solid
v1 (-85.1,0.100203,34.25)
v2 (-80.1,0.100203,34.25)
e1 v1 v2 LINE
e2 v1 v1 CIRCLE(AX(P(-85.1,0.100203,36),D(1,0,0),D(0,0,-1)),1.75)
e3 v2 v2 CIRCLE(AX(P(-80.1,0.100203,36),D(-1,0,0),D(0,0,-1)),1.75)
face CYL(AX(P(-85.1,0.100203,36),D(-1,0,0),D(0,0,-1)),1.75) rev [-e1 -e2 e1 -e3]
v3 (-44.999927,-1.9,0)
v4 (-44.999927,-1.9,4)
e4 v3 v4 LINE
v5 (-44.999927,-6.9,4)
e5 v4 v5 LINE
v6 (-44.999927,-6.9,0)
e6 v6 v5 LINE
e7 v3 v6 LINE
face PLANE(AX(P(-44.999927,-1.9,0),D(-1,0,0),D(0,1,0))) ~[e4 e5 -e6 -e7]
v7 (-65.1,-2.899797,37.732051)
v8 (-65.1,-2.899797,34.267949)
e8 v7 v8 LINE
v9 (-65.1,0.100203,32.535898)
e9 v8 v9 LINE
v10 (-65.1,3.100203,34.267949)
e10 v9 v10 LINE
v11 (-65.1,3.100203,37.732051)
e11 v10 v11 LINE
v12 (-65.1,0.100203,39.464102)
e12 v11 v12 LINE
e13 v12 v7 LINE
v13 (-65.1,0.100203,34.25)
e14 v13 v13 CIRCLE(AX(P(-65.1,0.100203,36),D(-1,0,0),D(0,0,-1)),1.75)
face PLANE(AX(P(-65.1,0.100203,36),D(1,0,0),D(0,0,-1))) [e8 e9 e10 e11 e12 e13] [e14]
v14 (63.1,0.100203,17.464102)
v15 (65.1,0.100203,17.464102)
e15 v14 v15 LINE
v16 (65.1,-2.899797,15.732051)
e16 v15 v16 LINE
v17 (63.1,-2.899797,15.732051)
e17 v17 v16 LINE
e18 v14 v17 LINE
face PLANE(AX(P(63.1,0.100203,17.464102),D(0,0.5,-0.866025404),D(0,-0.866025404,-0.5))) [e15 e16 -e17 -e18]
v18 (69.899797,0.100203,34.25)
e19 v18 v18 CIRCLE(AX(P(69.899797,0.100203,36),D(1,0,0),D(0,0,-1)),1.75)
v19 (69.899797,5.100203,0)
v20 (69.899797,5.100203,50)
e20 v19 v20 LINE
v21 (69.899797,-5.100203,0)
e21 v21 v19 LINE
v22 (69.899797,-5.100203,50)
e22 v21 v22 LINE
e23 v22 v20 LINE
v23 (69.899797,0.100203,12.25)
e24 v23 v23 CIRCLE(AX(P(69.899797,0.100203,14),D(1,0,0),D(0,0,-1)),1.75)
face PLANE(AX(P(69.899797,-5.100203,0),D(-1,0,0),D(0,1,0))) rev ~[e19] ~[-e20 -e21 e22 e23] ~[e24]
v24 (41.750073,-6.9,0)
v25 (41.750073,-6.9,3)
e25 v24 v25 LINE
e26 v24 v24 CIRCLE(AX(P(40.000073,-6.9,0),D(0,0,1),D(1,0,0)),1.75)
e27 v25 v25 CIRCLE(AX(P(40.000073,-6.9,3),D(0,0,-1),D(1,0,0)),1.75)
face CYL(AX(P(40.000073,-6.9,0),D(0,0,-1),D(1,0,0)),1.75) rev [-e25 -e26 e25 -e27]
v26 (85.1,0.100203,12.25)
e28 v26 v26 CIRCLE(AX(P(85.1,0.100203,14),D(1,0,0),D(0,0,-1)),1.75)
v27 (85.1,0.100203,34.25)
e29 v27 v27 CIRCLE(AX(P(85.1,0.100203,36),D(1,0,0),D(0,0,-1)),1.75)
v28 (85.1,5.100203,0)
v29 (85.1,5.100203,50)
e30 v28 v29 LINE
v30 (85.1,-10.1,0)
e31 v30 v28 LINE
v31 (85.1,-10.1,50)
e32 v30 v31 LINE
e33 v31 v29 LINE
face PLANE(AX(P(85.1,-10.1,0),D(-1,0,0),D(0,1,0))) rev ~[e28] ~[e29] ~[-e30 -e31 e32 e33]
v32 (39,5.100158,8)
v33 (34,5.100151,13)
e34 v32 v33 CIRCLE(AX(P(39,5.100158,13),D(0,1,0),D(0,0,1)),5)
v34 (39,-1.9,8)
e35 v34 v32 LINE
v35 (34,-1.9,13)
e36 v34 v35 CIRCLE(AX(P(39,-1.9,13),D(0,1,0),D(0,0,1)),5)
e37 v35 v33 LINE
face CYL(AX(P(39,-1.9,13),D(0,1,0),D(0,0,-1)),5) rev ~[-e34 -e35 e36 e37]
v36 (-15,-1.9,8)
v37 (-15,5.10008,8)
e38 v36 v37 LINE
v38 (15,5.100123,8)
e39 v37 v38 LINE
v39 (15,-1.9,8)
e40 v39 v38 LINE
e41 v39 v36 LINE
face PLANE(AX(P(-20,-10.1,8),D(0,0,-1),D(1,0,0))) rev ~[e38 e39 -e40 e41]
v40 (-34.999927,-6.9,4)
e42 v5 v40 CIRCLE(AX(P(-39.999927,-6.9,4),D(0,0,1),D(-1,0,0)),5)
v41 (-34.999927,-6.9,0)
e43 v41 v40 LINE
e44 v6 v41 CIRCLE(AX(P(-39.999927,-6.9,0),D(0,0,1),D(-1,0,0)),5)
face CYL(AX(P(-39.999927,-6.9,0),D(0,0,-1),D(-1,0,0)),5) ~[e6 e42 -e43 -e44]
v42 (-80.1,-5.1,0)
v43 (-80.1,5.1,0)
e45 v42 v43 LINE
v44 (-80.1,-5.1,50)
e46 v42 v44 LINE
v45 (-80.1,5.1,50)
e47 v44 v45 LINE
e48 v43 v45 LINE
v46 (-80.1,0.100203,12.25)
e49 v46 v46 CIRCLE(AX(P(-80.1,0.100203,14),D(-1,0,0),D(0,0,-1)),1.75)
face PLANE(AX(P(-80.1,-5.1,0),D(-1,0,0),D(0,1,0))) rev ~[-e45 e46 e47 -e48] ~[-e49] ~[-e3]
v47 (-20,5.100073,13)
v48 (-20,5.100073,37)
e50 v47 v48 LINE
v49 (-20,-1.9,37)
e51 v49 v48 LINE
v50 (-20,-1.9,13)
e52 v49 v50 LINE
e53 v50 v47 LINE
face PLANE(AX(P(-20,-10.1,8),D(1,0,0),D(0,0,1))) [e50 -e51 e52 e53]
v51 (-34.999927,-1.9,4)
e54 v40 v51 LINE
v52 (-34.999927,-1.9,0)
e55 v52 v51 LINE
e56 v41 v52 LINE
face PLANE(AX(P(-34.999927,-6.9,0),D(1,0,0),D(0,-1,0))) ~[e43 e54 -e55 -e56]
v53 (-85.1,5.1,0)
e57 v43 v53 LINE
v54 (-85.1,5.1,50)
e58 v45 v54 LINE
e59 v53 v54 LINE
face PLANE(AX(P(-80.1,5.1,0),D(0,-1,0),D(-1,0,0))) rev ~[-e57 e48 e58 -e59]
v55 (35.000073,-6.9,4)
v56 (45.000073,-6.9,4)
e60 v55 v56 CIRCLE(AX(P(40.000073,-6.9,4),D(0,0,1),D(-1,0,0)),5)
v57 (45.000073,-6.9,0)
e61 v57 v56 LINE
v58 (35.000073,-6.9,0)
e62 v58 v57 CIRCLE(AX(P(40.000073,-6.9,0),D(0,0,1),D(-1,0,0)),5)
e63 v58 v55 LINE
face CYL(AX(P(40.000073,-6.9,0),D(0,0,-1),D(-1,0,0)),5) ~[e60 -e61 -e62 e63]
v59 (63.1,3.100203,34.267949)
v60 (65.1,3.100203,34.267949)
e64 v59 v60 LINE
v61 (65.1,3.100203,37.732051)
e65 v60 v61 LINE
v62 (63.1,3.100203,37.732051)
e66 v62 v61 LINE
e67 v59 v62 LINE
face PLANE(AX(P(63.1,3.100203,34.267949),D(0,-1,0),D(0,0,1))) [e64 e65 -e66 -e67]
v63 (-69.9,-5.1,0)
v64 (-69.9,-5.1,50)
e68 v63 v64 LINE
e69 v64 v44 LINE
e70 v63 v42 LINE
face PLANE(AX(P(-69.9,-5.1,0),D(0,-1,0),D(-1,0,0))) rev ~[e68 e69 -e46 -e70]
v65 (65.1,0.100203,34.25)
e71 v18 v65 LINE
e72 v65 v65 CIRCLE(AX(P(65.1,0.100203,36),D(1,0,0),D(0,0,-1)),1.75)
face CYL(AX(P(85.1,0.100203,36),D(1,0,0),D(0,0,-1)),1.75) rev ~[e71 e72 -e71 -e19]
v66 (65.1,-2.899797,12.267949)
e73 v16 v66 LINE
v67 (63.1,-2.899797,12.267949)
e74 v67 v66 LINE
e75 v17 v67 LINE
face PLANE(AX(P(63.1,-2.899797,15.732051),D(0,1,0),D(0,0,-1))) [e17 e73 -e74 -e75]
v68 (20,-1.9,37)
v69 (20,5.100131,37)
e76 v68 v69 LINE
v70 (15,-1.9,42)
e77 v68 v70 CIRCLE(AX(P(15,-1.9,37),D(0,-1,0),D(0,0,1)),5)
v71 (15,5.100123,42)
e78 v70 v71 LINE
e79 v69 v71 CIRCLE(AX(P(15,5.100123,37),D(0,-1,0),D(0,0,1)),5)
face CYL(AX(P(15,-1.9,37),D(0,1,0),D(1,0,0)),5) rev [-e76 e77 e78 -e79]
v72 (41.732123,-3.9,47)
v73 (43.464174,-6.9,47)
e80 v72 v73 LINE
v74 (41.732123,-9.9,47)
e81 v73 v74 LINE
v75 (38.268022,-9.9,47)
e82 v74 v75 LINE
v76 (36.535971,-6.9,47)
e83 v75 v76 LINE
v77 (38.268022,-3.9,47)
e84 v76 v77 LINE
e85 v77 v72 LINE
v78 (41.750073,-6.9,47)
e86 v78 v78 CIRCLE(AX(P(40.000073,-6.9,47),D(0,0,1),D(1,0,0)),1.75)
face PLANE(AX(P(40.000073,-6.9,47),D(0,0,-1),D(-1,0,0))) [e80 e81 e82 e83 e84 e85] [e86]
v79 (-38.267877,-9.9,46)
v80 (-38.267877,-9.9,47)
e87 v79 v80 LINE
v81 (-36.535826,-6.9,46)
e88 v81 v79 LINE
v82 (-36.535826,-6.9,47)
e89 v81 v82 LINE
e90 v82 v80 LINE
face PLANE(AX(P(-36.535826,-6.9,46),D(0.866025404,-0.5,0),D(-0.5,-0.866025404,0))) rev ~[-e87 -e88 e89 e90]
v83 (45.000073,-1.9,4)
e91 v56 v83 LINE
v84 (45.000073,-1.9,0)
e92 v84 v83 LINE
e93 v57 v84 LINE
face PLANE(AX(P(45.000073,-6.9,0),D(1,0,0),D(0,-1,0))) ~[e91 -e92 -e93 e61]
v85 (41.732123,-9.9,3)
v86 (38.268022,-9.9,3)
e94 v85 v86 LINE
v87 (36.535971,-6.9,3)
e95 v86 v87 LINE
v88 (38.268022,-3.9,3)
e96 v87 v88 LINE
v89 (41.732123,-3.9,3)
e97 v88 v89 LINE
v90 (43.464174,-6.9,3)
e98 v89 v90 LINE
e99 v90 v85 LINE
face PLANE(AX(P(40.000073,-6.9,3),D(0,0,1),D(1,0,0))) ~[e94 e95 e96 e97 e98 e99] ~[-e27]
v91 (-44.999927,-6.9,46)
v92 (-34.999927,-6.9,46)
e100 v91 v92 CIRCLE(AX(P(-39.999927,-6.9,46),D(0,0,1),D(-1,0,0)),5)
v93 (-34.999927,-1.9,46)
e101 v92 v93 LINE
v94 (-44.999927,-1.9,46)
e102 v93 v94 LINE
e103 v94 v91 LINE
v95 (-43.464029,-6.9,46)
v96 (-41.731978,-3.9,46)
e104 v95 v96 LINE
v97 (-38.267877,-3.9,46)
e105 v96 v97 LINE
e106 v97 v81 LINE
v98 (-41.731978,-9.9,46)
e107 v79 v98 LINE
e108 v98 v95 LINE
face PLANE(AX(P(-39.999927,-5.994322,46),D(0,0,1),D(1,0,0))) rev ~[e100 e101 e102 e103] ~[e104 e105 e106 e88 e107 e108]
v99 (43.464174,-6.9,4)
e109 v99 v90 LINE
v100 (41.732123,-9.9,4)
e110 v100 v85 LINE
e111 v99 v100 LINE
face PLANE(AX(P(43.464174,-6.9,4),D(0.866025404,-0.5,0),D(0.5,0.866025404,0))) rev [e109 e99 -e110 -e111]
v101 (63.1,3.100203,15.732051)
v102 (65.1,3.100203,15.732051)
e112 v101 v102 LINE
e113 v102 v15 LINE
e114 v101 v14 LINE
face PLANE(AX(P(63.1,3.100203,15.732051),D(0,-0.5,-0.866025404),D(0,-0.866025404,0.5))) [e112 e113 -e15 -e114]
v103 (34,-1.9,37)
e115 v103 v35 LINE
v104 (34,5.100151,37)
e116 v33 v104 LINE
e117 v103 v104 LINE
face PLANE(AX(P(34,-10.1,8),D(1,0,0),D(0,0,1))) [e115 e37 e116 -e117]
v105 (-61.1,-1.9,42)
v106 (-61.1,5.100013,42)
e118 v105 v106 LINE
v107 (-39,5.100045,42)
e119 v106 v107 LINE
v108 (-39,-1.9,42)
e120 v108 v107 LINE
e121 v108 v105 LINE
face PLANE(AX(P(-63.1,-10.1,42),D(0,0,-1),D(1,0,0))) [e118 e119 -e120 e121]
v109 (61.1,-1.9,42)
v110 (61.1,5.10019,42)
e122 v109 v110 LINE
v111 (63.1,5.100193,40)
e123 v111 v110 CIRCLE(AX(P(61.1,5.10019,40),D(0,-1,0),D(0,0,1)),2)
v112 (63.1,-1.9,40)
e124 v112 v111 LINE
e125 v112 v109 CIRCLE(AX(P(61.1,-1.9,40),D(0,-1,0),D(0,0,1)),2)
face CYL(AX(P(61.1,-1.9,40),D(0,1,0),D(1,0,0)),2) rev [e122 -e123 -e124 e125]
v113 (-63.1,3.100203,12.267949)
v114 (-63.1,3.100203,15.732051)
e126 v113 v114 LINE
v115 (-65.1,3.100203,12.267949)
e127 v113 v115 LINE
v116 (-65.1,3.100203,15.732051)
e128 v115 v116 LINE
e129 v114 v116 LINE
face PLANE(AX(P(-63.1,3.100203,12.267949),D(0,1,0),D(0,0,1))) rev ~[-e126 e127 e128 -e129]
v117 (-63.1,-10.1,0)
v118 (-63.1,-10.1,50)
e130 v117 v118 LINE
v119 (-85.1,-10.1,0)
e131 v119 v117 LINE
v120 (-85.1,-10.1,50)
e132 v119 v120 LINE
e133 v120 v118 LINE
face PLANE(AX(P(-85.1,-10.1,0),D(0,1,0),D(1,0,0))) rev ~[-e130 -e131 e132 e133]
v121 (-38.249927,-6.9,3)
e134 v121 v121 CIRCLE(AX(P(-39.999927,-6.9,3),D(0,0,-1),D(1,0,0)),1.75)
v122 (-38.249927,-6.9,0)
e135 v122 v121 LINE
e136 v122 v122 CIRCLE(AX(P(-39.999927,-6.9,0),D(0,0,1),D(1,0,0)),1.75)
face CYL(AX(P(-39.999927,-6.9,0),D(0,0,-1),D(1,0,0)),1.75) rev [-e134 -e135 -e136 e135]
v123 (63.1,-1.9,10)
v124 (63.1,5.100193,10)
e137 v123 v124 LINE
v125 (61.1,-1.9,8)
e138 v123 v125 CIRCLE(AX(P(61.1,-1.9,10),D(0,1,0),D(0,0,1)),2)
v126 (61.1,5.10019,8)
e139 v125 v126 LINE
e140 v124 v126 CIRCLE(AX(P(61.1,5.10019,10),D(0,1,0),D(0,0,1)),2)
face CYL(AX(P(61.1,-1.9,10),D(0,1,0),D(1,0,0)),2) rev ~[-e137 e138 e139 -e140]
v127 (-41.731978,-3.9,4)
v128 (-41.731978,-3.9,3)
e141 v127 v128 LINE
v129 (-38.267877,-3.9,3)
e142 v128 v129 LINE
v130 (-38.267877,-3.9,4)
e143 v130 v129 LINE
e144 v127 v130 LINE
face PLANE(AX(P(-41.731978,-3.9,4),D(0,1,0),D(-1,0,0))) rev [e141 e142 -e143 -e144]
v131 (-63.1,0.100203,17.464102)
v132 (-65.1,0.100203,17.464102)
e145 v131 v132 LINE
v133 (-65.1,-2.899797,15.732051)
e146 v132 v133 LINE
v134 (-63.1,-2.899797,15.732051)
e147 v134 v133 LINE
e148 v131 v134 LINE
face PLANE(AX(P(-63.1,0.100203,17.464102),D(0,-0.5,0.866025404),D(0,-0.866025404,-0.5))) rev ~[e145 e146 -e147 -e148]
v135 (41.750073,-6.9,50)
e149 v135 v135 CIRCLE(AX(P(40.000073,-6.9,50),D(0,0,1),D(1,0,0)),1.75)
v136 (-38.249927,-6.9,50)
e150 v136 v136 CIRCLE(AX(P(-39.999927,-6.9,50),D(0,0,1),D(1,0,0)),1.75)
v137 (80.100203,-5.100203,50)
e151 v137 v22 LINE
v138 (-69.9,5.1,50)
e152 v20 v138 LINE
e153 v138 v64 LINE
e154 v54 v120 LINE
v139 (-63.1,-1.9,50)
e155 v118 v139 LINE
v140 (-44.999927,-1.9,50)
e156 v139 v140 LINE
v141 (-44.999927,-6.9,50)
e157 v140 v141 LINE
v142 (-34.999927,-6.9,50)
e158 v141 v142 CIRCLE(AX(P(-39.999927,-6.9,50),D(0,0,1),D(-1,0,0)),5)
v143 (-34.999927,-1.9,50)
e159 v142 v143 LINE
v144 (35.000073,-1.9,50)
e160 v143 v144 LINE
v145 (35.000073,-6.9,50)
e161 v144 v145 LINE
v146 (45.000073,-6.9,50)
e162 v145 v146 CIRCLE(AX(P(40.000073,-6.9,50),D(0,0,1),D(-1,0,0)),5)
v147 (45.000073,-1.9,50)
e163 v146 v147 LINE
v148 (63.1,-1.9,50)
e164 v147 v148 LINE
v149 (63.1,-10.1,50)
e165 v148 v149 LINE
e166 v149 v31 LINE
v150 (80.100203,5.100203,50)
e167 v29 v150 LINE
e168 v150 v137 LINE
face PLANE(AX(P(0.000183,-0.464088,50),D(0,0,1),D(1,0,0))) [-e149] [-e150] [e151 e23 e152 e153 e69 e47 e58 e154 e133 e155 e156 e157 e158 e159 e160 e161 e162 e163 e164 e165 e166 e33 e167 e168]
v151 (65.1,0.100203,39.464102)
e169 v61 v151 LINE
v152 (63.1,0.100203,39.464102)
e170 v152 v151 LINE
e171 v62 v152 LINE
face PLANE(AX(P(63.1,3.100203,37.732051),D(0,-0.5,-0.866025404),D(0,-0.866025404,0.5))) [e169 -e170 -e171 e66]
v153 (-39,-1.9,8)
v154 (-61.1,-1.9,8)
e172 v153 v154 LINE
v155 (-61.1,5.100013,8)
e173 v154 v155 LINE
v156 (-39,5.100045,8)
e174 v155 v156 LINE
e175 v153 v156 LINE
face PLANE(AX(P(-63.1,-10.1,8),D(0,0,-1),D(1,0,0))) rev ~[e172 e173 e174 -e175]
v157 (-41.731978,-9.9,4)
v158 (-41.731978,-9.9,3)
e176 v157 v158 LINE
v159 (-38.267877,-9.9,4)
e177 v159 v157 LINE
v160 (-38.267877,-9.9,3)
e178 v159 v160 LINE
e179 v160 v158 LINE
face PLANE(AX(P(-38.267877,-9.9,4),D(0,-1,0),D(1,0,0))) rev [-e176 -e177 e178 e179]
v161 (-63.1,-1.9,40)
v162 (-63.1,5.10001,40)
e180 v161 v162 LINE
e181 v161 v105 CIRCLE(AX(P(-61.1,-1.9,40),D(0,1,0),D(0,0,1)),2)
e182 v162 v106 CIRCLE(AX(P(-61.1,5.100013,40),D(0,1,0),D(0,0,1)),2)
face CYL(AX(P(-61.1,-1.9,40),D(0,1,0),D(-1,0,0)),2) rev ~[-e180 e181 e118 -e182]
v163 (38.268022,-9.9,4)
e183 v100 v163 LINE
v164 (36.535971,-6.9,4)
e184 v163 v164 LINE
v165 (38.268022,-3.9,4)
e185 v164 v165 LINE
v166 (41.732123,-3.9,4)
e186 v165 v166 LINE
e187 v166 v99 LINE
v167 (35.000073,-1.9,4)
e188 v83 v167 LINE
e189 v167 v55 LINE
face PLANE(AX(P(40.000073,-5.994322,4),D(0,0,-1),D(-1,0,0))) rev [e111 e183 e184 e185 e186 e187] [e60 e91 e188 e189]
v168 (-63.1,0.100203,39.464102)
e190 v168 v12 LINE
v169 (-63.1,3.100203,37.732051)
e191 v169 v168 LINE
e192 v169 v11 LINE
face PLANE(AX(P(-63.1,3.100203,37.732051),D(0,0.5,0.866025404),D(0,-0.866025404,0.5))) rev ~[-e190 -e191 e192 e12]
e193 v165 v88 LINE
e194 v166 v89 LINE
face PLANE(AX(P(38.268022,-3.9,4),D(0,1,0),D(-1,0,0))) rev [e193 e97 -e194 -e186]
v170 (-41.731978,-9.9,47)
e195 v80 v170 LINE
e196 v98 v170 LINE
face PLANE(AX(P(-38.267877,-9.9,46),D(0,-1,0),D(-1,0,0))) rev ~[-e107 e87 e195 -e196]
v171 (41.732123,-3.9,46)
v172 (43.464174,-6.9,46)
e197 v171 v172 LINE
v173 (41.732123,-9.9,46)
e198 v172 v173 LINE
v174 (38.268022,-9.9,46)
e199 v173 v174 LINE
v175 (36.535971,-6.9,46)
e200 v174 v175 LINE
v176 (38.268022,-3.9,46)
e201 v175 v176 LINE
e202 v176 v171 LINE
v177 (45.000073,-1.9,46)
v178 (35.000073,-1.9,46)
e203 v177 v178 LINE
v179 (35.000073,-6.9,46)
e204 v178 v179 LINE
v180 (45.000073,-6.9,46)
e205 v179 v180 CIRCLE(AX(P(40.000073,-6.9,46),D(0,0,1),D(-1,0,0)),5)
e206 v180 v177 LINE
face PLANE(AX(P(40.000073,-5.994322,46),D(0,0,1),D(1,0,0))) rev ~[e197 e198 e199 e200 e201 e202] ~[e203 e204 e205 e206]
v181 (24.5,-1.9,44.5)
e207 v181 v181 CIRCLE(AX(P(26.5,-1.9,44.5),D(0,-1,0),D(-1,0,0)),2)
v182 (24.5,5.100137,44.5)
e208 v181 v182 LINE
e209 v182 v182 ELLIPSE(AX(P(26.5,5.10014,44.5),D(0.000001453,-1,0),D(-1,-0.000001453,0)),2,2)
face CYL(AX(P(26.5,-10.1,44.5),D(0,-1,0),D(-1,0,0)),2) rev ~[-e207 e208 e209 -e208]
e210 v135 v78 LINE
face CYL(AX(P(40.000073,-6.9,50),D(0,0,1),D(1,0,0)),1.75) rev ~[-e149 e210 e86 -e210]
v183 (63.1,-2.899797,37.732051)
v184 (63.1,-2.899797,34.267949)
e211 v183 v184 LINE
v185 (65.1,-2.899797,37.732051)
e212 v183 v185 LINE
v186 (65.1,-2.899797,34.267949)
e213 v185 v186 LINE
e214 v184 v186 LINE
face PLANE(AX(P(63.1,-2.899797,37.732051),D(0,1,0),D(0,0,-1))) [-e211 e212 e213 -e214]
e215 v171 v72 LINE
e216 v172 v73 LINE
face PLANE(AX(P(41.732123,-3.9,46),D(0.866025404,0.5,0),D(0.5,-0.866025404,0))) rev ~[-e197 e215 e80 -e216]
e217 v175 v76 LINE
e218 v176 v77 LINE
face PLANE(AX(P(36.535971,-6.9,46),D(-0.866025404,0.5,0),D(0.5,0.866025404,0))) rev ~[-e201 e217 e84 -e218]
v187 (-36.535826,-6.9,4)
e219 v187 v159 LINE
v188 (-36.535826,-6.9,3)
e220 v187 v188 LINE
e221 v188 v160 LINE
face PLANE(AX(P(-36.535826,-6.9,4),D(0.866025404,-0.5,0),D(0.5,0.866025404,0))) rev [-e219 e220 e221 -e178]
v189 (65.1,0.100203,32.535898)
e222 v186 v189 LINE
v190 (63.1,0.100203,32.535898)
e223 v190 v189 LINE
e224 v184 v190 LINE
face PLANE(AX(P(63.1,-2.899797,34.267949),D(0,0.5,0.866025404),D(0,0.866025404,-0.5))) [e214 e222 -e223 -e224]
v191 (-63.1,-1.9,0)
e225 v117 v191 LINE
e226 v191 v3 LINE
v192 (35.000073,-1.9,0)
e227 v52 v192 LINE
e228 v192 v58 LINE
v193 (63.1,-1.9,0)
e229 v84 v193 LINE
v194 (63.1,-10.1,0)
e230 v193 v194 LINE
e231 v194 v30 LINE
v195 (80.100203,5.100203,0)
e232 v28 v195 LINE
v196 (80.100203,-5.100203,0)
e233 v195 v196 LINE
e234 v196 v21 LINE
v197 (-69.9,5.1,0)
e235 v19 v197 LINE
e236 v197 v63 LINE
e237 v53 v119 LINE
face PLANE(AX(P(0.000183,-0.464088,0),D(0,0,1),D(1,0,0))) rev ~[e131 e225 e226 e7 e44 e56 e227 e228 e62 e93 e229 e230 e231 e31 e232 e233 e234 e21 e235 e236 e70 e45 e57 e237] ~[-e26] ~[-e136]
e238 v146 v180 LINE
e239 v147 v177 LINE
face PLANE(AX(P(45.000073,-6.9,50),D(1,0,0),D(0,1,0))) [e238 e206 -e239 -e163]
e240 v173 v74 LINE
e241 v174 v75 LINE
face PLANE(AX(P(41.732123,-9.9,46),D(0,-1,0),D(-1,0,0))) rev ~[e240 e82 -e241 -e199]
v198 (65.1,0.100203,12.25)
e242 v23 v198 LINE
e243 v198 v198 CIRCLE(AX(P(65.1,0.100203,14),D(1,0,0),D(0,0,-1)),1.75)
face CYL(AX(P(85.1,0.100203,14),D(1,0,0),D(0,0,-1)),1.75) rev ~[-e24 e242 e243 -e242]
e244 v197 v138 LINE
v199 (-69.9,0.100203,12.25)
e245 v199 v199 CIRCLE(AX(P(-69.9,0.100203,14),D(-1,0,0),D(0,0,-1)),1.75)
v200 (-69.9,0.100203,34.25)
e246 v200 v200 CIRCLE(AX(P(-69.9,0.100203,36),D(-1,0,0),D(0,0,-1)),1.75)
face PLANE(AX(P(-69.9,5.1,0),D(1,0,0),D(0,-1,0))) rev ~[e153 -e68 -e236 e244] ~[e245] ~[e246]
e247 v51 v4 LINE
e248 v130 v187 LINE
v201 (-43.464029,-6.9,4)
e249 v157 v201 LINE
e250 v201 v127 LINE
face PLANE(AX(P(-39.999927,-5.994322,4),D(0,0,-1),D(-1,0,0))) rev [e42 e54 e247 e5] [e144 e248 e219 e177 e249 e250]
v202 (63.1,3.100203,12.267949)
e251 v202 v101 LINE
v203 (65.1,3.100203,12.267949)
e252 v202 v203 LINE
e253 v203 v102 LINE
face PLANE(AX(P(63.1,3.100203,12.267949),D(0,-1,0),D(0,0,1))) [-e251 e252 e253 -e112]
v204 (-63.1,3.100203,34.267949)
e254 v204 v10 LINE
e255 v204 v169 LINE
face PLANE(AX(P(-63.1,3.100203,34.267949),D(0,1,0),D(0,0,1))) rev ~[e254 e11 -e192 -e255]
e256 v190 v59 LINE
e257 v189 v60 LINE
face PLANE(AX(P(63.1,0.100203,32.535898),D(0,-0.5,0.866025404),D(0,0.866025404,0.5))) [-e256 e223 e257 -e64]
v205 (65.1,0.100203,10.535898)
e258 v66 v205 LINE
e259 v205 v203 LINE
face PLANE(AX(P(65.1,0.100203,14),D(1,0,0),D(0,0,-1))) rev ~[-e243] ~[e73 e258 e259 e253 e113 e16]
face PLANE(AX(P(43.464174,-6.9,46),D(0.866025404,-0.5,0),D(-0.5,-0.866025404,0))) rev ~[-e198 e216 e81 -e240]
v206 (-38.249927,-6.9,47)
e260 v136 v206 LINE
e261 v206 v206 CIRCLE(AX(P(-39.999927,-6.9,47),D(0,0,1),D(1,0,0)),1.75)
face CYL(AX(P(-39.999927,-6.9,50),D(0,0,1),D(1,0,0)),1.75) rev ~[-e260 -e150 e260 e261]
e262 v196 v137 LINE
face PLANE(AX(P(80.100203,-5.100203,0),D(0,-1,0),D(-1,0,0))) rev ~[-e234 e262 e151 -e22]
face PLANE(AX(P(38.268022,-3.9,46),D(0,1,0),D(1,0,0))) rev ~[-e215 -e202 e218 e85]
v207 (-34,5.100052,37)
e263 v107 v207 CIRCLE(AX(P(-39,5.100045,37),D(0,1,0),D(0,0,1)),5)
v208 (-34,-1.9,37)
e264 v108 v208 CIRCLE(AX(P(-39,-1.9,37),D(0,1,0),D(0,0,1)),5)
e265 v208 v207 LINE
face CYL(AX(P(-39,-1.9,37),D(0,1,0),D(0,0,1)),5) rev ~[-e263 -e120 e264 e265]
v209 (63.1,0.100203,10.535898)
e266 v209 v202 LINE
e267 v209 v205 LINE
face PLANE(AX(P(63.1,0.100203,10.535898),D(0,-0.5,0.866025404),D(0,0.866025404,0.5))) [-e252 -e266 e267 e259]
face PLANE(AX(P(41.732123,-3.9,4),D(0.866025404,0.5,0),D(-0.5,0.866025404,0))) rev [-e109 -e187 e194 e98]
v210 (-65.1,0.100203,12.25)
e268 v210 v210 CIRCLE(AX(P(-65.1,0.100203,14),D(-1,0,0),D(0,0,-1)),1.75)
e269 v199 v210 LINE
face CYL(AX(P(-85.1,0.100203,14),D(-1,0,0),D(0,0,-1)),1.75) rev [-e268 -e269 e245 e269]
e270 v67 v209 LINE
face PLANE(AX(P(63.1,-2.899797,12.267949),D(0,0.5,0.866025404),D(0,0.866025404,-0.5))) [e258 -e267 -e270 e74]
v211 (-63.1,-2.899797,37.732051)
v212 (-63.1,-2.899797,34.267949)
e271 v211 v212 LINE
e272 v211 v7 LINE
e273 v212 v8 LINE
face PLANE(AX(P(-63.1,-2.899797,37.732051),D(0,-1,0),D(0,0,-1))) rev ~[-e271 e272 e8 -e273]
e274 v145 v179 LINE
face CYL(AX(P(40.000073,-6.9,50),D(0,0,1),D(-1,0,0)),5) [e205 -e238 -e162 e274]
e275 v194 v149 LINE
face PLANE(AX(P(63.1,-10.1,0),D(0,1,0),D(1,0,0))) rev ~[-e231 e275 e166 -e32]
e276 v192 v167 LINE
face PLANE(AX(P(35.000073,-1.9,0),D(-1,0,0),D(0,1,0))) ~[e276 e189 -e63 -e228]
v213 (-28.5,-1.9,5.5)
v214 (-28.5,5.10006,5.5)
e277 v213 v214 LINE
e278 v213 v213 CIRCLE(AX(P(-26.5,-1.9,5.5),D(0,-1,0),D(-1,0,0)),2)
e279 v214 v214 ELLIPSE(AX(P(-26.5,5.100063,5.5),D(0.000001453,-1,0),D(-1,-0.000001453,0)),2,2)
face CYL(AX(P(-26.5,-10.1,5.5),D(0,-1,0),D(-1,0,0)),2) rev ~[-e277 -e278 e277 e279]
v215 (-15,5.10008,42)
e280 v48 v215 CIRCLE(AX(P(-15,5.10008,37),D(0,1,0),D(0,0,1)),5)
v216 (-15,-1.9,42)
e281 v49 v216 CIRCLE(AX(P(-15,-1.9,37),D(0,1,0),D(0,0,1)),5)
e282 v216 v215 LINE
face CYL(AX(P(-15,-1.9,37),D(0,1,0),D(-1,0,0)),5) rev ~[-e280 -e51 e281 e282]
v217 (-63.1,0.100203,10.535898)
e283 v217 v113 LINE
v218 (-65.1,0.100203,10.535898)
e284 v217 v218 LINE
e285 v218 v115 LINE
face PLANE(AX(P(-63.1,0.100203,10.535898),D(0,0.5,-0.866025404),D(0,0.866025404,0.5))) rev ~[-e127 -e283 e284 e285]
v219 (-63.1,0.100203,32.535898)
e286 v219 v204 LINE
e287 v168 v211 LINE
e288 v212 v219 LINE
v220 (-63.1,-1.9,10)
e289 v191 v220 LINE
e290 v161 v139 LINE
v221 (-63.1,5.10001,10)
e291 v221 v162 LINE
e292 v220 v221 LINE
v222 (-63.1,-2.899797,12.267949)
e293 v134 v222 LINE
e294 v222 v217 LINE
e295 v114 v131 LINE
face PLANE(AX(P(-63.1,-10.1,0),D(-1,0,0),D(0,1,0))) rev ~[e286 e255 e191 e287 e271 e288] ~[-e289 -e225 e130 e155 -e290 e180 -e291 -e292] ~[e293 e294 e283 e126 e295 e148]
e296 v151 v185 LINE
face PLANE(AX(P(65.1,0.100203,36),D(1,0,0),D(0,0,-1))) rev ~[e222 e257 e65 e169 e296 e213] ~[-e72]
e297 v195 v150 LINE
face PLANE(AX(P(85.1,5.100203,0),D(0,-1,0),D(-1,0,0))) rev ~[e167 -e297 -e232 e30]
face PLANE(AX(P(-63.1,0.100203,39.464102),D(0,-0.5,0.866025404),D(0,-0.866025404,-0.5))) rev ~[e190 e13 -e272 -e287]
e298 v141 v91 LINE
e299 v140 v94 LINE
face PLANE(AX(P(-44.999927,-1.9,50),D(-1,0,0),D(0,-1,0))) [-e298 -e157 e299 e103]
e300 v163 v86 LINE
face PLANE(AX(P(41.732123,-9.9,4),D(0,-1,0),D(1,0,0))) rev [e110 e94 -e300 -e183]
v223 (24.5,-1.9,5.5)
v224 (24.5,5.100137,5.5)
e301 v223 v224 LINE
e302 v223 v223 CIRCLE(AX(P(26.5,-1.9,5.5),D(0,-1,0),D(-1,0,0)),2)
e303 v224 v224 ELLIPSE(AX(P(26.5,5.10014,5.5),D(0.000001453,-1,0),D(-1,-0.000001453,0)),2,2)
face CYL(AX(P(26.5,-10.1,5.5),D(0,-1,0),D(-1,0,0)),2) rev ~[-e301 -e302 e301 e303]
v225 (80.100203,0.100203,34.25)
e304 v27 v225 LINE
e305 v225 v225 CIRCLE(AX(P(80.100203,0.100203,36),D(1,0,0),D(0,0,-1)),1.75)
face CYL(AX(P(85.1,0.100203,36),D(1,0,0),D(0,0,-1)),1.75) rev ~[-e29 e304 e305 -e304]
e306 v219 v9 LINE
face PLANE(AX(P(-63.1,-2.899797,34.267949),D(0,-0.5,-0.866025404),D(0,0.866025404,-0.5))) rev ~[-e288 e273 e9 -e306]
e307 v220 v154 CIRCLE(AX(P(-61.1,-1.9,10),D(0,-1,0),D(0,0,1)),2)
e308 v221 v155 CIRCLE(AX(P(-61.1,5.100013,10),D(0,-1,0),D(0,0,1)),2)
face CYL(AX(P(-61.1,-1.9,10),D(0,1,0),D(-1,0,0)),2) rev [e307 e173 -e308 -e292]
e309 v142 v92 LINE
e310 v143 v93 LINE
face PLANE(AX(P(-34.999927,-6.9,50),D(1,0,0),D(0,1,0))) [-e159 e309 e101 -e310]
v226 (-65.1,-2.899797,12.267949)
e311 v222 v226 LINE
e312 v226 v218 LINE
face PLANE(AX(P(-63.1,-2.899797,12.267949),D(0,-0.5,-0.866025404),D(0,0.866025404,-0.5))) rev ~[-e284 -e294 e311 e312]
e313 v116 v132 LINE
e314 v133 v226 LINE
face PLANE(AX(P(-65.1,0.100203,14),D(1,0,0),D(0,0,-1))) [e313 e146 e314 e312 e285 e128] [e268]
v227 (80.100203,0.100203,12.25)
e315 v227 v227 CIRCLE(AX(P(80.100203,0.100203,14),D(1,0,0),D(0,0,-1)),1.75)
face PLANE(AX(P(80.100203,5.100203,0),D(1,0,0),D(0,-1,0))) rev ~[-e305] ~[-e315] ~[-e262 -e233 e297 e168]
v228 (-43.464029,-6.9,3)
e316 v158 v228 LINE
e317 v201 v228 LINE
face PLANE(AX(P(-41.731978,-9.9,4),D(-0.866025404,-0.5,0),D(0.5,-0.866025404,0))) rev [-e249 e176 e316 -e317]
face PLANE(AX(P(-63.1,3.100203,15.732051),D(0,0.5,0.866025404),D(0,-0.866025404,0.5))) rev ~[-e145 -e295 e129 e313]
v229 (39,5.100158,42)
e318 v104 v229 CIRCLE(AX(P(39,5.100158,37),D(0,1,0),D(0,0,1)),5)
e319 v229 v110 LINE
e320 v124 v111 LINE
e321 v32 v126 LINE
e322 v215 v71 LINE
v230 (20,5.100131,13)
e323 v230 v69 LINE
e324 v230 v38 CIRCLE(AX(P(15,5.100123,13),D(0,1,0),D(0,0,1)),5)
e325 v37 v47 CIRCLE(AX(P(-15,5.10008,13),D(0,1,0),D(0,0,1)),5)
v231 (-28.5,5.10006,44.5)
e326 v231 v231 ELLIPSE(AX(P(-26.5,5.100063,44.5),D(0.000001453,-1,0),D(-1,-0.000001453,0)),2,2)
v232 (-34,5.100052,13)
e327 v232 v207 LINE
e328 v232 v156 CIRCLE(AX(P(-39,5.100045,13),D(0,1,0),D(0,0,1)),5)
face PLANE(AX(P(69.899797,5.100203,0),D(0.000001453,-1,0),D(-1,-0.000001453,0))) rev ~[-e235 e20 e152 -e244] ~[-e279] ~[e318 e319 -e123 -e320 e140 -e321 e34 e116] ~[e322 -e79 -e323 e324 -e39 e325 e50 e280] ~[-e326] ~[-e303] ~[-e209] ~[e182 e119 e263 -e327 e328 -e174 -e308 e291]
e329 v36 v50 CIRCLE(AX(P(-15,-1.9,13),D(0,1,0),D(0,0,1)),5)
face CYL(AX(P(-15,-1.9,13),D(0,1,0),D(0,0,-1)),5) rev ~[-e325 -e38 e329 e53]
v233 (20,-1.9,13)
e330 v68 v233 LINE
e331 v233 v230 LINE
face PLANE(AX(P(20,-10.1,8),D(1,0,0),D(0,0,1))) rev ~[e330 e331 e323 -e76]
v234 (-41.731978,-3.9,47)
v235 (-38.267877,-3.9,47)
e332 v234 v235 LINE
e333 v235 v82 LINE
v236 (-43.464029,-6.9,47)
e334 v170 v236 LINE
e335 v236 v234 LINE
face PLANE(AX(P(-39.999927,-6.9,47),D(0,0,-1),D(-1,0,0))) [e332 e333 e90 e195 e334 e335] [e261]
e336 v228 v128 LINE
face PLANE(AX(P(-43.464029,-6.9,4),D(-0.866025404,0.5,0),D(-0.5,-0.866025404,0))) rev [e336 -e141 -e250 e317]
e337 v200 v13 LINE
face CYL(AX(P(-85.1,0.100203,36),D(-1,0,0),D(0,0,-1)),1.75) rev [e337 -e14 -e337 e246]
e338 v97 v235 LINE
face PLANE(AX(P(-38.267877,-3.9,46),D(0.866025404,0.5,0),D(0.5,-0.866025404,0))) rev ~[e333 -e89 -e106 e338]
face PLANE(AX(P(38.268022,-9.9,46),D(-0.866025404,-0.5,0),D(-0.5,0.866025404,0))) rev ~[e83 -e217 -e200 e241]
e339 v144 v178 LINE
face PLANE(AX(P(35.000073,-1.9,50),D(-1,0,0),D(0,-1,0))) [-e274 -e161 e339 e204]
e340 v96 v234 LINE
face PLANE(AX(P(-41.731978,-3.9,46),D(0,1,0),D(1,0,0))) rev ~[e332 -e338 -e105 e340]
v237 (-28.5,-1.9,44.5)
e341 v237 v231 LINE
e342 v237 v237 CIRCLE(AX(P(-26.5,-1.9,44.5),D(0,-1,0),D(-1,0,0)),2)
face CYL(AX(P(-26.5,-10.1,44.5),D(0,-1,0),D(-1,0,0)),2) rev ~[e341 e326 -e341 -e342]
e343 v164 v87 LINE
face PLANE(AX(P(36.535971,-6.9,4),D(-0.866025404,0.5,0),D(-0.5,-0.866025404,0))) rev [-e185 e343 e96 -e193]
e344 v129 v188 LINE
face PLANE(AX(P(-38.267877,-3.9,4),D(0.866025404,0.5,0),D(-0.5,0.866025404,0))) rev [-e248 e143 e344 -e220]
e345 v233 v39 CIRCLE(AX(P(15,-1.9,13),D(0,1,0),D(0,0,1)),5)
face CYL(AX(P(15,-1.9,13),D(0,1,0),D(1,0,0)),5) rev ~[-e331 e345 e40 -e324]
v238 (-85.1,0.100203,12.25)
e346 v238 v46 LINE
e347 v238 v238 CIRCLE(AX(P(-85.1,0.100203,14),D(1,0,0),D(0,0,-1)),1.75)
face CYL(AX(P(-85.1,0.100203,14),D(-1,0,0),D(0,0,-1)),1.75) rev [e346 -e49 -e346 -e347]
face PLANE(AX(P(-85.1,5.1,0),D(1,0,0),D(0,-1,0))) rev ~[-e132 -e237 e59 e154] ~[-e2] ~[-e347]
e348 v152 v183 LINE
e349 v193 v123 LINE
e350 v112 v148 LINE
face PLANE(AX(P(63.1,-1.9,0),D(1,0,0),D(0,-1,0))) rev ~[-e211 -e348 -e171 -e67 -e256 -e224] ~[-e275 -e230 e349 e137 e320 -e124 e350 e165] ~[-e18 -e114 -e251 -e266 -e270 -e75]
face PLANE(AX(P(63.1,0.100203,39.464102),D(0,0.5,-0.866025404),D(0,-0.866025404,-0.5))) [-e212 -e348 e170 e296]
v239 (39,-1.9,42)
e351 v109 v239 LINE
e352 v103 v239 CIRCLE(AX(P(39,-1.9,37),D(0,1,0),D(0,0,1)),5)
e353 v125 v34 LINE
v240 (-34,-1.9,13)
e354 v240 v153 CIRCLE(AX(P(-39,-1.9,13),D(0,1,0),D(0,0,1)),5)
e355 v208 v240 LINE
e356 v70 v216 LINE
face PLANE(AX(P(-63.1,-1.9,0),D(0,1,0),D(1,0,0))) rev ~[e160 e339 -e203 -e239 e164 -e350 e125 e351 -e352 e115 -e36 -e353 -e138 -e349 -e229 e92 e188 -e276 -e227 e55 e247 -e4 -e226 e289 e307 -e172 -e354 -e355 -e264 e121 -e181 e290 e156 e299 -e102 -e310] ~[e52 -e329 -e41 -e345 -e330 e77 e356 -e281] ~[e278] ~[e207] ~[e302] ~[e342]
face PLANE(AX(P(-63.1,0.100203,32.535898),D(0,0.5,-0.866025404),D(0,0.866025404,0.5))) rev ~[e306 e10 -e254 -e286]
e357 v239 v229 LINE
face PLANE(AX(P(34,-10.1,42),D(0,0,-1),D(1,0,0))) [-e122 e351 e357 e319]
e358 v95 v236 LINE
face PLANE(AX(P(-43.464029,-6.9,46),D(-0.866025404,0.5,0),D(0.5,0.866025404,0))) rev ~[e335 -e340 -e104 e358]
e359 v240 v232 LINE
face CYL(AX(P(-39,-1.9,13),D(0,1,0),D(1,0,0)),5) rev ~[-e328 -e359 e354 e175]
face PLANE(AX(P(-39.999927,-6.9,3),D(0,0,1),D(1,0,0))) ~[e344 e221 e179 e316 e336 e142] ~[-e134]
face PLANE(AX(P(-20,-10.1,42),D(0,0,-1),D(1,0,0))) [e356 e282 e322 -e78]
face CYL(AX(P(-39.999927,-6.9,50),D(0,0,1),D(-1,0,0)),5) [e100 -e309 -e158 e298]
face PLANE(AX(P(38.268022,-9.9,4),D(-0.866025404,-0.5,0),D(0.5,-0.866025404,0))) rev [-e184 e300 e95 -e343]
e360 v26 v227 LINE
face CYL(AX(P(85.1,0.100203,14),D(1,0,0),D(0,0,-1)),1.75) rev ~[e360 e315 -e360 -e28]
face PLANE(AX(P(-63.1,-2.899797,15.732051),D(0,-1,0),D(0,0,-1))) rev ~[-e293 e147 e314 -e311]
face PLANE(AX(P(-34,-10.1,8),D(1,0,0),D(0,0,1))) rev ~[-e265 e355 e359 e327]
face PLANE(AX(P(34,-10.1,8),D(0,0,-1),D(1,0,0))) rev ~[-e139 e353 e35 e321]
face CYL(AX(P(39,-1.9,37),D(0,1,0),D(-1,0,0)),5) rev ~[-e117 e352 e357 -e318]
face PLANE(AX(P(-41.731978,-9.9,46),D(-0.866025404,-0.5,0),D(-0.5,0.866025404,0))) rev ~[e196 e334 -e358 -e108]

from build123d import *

# Parameters (mm, degrees)
DODANIE_WYCI_GNI_CIE1_DEPTH = 50
SZKIC2_R                    = 2
WYTNIJ_WYCI_GNI_CIE1_DEPTH  = 35
SZKIC3_W                    = 40
SZKIC3_H                    = 34
SZKIC3_W_2                  = 29.1
WYTNIJ_WYCI_GNI_CIE2_DEPTH  = 35
SZKIC4_R                    = 1.75
WYTNIJ_WYCI_GNI_CIE3_DEPTH  = 35
WYTNIJ_WYCI_GNI_CIE4_START  = -22
WYTNIJ_WYCI_GNI_CIE4_DEPTH  = 2
WYTNIJ_WYCI_GNI_CIE5_START  = -148.2
WYTNIJ_WYCI_GNI_CIE5_DEPTH  = 2
SZKIC7_R                    = 1.75
DODANIE_WYCI_GNI_CIE4_DEPTH = 4
WYTNIJ_WYCI_GNI_CIE6_DEPTH  = 1
ZAOKR_GLENIE1_R             = 2
ZAOKR_GLENIE2_R             = 5


with BuildPart() as part:
    # Szkic1 → Dodanie-wyciągnięcie1 (new body)
    with BuildSketch(Plane.XY):
        Polygon((-80.1, -5.1), (-80.1, 5.1), (-85.1, 5.1), (-85.1, -10.1), (-63.1, -10.1), (-63.1, -1.9), (63.1, -1.9), (63.1, -10.1), (85.1, -10.1), (85.1, 5.100203132), (80.100203132, 5.100203132), (80.100203132, -5.100203132), (69.899796868, -5.100203132), (69.899796868, 5.100203132), (-69.9, 5.1), (-69.9, -5.1), align=None)
    extrude(amount=DODANIE_WYCI_GNI_CIE1_DEPTH)

    # Szkic2 → Wytnij-wyciągnięcie1 (cut)
    with BuildSketch(Plane.XZ.offset(10.1)):
        with Locations(Location((-26.5, 44.5, 0), (0, 0, 180))):
            Circle(SZKIC2_R)
        with Locations(Location((-26.5, 5.5, 0), (0, 0, 180))):
            Circle(SZKIC2_R)
        with Locations(Location((26.5, 5.5, 0), (0, 0, 180))):
            Circle(SZKIC2_R)
        with Locations(Location((26.5, 44.5, 0), (0, 0, 180))):
            Circle(SZKIC2_R)
    extrude(amount=-WYTNIJ_WYCI_GNI_CIE1_DEPTH, mode=Mode.SUBTRACT)

    # Szkic3 → Wytnij-wyciągnięcie2 (cut)
    with BuildSketch(Plane.XZ.offset(10.1)):
        with Locations((0, 25)):
            Rectangle(SZKIC3_W, SZKIC3_H)
        with Locations((-48.55, 25)):
            Rectangle(SZKIC3_W_2, SZKIC3_H)
        with Locations((48.55, 25)):
            Rectangle(SZKIC3_W_2, SZKIC3_H)
    extrude(amount=-WYTNIJ_WYCI_GNI_CIE2_DEPTH, mode=Mode.SUBTRACT)

    # Szkic4 → Wytnij-wyciągnięcie3 (cut)
    with BuildSketch(Plane(origin=(85.1, 0, 0), x_dir=(0, 0, -1), z_dir=(1, 0, 0))):
        with Locations((-36, 0.100203132)):
            Circle(SZKIC4_R)
        with Locations((-14, 0.100203132)):
            Circle(SZKIC4_R)
    wytnij_wyci_gni_cie3 = extrude(amount=-WYTNIJ_WYCI_GNI_CIE3_DEPTH, mode=Mode.SUBTRACT)

    # Szkic5 → Wytnij-wyciągnięcie4 (cut)
    with BuildSketch(Plane(origin=(85.1, 0, 0), x_dir=(0, 0, -1), z_dir=(1, 0, 0)).offset(WYTNIJ_WYCI_GNI_CIE4_START)):
        Polygon((-34.267949192, 3.100203132), (-37.732050808, 3.100203132), (-39.464101615, 0.100203132), (-37.732050808, -2.899796868), (-34.267949192, -2.899796868), (-32.535898385, 0.100203132), align=None)
        Polygon((-12.267949192, 3.100203132), (-15.732050808, 3.100203132), (-17.464101615, 0.100203132), (-15.732050808, -2.899796868), (-12.267949192, -2.899796868), (-10.535898385, 0.100203132), align=None)
    extrude(amount=WYTNIJ_WYCI_GNI_CIE4_DEPTH, mode=Mode.SUBTRACT)

    # Lustro1: Wytnij-wyciągnięcie3 across plane
    add(wytnij_wyci_gni_cie3.mirror(Plane(origin=(0, 0, 0), x_dir=(0, 0, 1), z_dir=(1, 0, 0))), mode=Mode.SUBTRACT)

    # Szkic5<2> → Wytnij-wyciągnięcie5 (cut)
    with BuildSketch(Plane(origin=(85.1, 0, 0), x_dir=(0, 0, -1), z_dir=(1, 0, 0)).offset(WYTNIJ_WYCI_GNI_CIE5_START)):
        Polygon((-34.267949192, 3.100203132), (-37.732050808, 3.100203132), (-39.464101615, 0.100203132), (-37.732050808, -2.899796868), (-34.267949192, -2.899796868), (-32.535898385, 0.100203132), align=None)
        Polygon((-12.267949192, 3.100203132), (-15.732050808, 3.100203132), (-17.464101615, 0.100203132), (-15.732050808, -2.899796868), (-12.267949192, -2.899796868), (-10.535898385, 0.100203132), align=None)
    extrude(amount=-WYTNIJ_WYCI_GNI_CIE5_DEPTH, mode=Mode.SUBTRACT)

    # Szkic7 → Dodanie-wyciągnięcie4 (add)
    # profile 1 of 2: a face of its own
    with BuildSketch(Plane.XY.offset(50)):
        with BuildLine():
            Line((-34.999927458, -1.9), (-44.999927458, -1.9))
            Line((-44.999927458, -1.9), (-44.999927458, -6.9))
            ThreePointArc((-44.999927458, -6.9), (-39.999927458, -11.9), (-34.999927458, -6.9))
            Line((-34.999927458, -6.9), (-34.999927458, -1.9))
        make_face()
        with Locations((-39.999927458, -6.9)):
            Circle(SZKIC7_R, mode=Mode.SUBTRACT)
    # profile 2 of 2: a face of its own
    with BuildSketch(Plane.XY.offset(50)):
        with BuildLine():
            Line((35.000072542, -1.9), (35.000072542, -6.9))
            ThreePointArc((35.000072542, -6.9), (40.000072542, -11.9), (45.000072542, -6.9))
            Line((45.000072542, -6.9), (45.000072542, -1.9))
            Line((45.000072542, -1.9), (35.000072542, -1.9))
        make_face()
        with Locations((40.000072542, -6.9)):
            Circle(SZKIC7_R, mode=Mode.SUBTRACT)
    dodanie_wyci_gni_cie4 = extrude(amount=-DODANIE_WYCI_GNI_CIE4_DEPTH)

    # Szkic8 → Wytnij-wyciągnięcie6 (cut)
    with BuildSketch(Plane(origin=(0, 0, 46), x_dir=(-1, 0, 0), z_dir=(0, 0, -1))):
        Polygon((43.464029073, -6.9), (41.731978266, -3.9), (38.26787665, -3.9), (36.535825843, -6.9), (38.26787665, -9.9), (41.731978266, -9.9), align=None)
        Polygon((-36.535970927, -6.9), (-38.268021734, -3.9), (-41.73212335, -3.9), (-43.464174157, -6.9), (-41.73212335, -9.9), (-38.268021734, -9.9), align=None)
    wytnij_wyci_gni_cie6 = extrude(amount=-WYTNIJ_WYCI_GNI_CIE6_DEPTH, mode=Mode.SUBTRACT)

    # Lustro3: Dodanie-wyciągnięcie4, Wytnij-wyciągnięcie6 across plane
    add(dodanie_wyci_gni_cie4.mirror(Plane(origin=(0, 0, 25), x_dir=(1, 0, 0), z_dir=(0, 0, -1))))
    add(wytnij_wyci_gni_cie6.mirror(Plane(origin=(0, 0, 25), x_dir=(1, 0, 0), z_dir=(0, 0, -1))), mode=Mode.SUBTRACT)

    # Zaokrąglenie1
    zaokr_glenie1_edges = [part.edges().sort_by_distance(p)[0] for p in [
        (-63.1, 1.60000494, 8),
        (-63.1, 1.60000494, 42),
        (63.1, 1.600096626, 42),
        (63.1, 1.600096626, 8),
    ]]
    fillet(zaokr_glenie1_edges, radius=ZAOKR_GLENIE1_R)

    # Zaokrąglenie2
    zaokr_glenie2_edges = [part.edges().sort_by_distance(p)[0] for p in [
        (-34, 1.600026082, 8),
        (20, 1.600065313, 42),
        (20, 1.600065313, 8),
        (-20, 1.600036253, 8),
        (-20, 1.600036253, 42),
        (34, 1.600075485, 8),
        (34, 1.600075485, 42),
        (-34, 1.600026082, 42),
    ]]
    fillet(zaokr_glenie2_edges, radius=ZAOKR_GLENIE2_R)


solid = part.part
